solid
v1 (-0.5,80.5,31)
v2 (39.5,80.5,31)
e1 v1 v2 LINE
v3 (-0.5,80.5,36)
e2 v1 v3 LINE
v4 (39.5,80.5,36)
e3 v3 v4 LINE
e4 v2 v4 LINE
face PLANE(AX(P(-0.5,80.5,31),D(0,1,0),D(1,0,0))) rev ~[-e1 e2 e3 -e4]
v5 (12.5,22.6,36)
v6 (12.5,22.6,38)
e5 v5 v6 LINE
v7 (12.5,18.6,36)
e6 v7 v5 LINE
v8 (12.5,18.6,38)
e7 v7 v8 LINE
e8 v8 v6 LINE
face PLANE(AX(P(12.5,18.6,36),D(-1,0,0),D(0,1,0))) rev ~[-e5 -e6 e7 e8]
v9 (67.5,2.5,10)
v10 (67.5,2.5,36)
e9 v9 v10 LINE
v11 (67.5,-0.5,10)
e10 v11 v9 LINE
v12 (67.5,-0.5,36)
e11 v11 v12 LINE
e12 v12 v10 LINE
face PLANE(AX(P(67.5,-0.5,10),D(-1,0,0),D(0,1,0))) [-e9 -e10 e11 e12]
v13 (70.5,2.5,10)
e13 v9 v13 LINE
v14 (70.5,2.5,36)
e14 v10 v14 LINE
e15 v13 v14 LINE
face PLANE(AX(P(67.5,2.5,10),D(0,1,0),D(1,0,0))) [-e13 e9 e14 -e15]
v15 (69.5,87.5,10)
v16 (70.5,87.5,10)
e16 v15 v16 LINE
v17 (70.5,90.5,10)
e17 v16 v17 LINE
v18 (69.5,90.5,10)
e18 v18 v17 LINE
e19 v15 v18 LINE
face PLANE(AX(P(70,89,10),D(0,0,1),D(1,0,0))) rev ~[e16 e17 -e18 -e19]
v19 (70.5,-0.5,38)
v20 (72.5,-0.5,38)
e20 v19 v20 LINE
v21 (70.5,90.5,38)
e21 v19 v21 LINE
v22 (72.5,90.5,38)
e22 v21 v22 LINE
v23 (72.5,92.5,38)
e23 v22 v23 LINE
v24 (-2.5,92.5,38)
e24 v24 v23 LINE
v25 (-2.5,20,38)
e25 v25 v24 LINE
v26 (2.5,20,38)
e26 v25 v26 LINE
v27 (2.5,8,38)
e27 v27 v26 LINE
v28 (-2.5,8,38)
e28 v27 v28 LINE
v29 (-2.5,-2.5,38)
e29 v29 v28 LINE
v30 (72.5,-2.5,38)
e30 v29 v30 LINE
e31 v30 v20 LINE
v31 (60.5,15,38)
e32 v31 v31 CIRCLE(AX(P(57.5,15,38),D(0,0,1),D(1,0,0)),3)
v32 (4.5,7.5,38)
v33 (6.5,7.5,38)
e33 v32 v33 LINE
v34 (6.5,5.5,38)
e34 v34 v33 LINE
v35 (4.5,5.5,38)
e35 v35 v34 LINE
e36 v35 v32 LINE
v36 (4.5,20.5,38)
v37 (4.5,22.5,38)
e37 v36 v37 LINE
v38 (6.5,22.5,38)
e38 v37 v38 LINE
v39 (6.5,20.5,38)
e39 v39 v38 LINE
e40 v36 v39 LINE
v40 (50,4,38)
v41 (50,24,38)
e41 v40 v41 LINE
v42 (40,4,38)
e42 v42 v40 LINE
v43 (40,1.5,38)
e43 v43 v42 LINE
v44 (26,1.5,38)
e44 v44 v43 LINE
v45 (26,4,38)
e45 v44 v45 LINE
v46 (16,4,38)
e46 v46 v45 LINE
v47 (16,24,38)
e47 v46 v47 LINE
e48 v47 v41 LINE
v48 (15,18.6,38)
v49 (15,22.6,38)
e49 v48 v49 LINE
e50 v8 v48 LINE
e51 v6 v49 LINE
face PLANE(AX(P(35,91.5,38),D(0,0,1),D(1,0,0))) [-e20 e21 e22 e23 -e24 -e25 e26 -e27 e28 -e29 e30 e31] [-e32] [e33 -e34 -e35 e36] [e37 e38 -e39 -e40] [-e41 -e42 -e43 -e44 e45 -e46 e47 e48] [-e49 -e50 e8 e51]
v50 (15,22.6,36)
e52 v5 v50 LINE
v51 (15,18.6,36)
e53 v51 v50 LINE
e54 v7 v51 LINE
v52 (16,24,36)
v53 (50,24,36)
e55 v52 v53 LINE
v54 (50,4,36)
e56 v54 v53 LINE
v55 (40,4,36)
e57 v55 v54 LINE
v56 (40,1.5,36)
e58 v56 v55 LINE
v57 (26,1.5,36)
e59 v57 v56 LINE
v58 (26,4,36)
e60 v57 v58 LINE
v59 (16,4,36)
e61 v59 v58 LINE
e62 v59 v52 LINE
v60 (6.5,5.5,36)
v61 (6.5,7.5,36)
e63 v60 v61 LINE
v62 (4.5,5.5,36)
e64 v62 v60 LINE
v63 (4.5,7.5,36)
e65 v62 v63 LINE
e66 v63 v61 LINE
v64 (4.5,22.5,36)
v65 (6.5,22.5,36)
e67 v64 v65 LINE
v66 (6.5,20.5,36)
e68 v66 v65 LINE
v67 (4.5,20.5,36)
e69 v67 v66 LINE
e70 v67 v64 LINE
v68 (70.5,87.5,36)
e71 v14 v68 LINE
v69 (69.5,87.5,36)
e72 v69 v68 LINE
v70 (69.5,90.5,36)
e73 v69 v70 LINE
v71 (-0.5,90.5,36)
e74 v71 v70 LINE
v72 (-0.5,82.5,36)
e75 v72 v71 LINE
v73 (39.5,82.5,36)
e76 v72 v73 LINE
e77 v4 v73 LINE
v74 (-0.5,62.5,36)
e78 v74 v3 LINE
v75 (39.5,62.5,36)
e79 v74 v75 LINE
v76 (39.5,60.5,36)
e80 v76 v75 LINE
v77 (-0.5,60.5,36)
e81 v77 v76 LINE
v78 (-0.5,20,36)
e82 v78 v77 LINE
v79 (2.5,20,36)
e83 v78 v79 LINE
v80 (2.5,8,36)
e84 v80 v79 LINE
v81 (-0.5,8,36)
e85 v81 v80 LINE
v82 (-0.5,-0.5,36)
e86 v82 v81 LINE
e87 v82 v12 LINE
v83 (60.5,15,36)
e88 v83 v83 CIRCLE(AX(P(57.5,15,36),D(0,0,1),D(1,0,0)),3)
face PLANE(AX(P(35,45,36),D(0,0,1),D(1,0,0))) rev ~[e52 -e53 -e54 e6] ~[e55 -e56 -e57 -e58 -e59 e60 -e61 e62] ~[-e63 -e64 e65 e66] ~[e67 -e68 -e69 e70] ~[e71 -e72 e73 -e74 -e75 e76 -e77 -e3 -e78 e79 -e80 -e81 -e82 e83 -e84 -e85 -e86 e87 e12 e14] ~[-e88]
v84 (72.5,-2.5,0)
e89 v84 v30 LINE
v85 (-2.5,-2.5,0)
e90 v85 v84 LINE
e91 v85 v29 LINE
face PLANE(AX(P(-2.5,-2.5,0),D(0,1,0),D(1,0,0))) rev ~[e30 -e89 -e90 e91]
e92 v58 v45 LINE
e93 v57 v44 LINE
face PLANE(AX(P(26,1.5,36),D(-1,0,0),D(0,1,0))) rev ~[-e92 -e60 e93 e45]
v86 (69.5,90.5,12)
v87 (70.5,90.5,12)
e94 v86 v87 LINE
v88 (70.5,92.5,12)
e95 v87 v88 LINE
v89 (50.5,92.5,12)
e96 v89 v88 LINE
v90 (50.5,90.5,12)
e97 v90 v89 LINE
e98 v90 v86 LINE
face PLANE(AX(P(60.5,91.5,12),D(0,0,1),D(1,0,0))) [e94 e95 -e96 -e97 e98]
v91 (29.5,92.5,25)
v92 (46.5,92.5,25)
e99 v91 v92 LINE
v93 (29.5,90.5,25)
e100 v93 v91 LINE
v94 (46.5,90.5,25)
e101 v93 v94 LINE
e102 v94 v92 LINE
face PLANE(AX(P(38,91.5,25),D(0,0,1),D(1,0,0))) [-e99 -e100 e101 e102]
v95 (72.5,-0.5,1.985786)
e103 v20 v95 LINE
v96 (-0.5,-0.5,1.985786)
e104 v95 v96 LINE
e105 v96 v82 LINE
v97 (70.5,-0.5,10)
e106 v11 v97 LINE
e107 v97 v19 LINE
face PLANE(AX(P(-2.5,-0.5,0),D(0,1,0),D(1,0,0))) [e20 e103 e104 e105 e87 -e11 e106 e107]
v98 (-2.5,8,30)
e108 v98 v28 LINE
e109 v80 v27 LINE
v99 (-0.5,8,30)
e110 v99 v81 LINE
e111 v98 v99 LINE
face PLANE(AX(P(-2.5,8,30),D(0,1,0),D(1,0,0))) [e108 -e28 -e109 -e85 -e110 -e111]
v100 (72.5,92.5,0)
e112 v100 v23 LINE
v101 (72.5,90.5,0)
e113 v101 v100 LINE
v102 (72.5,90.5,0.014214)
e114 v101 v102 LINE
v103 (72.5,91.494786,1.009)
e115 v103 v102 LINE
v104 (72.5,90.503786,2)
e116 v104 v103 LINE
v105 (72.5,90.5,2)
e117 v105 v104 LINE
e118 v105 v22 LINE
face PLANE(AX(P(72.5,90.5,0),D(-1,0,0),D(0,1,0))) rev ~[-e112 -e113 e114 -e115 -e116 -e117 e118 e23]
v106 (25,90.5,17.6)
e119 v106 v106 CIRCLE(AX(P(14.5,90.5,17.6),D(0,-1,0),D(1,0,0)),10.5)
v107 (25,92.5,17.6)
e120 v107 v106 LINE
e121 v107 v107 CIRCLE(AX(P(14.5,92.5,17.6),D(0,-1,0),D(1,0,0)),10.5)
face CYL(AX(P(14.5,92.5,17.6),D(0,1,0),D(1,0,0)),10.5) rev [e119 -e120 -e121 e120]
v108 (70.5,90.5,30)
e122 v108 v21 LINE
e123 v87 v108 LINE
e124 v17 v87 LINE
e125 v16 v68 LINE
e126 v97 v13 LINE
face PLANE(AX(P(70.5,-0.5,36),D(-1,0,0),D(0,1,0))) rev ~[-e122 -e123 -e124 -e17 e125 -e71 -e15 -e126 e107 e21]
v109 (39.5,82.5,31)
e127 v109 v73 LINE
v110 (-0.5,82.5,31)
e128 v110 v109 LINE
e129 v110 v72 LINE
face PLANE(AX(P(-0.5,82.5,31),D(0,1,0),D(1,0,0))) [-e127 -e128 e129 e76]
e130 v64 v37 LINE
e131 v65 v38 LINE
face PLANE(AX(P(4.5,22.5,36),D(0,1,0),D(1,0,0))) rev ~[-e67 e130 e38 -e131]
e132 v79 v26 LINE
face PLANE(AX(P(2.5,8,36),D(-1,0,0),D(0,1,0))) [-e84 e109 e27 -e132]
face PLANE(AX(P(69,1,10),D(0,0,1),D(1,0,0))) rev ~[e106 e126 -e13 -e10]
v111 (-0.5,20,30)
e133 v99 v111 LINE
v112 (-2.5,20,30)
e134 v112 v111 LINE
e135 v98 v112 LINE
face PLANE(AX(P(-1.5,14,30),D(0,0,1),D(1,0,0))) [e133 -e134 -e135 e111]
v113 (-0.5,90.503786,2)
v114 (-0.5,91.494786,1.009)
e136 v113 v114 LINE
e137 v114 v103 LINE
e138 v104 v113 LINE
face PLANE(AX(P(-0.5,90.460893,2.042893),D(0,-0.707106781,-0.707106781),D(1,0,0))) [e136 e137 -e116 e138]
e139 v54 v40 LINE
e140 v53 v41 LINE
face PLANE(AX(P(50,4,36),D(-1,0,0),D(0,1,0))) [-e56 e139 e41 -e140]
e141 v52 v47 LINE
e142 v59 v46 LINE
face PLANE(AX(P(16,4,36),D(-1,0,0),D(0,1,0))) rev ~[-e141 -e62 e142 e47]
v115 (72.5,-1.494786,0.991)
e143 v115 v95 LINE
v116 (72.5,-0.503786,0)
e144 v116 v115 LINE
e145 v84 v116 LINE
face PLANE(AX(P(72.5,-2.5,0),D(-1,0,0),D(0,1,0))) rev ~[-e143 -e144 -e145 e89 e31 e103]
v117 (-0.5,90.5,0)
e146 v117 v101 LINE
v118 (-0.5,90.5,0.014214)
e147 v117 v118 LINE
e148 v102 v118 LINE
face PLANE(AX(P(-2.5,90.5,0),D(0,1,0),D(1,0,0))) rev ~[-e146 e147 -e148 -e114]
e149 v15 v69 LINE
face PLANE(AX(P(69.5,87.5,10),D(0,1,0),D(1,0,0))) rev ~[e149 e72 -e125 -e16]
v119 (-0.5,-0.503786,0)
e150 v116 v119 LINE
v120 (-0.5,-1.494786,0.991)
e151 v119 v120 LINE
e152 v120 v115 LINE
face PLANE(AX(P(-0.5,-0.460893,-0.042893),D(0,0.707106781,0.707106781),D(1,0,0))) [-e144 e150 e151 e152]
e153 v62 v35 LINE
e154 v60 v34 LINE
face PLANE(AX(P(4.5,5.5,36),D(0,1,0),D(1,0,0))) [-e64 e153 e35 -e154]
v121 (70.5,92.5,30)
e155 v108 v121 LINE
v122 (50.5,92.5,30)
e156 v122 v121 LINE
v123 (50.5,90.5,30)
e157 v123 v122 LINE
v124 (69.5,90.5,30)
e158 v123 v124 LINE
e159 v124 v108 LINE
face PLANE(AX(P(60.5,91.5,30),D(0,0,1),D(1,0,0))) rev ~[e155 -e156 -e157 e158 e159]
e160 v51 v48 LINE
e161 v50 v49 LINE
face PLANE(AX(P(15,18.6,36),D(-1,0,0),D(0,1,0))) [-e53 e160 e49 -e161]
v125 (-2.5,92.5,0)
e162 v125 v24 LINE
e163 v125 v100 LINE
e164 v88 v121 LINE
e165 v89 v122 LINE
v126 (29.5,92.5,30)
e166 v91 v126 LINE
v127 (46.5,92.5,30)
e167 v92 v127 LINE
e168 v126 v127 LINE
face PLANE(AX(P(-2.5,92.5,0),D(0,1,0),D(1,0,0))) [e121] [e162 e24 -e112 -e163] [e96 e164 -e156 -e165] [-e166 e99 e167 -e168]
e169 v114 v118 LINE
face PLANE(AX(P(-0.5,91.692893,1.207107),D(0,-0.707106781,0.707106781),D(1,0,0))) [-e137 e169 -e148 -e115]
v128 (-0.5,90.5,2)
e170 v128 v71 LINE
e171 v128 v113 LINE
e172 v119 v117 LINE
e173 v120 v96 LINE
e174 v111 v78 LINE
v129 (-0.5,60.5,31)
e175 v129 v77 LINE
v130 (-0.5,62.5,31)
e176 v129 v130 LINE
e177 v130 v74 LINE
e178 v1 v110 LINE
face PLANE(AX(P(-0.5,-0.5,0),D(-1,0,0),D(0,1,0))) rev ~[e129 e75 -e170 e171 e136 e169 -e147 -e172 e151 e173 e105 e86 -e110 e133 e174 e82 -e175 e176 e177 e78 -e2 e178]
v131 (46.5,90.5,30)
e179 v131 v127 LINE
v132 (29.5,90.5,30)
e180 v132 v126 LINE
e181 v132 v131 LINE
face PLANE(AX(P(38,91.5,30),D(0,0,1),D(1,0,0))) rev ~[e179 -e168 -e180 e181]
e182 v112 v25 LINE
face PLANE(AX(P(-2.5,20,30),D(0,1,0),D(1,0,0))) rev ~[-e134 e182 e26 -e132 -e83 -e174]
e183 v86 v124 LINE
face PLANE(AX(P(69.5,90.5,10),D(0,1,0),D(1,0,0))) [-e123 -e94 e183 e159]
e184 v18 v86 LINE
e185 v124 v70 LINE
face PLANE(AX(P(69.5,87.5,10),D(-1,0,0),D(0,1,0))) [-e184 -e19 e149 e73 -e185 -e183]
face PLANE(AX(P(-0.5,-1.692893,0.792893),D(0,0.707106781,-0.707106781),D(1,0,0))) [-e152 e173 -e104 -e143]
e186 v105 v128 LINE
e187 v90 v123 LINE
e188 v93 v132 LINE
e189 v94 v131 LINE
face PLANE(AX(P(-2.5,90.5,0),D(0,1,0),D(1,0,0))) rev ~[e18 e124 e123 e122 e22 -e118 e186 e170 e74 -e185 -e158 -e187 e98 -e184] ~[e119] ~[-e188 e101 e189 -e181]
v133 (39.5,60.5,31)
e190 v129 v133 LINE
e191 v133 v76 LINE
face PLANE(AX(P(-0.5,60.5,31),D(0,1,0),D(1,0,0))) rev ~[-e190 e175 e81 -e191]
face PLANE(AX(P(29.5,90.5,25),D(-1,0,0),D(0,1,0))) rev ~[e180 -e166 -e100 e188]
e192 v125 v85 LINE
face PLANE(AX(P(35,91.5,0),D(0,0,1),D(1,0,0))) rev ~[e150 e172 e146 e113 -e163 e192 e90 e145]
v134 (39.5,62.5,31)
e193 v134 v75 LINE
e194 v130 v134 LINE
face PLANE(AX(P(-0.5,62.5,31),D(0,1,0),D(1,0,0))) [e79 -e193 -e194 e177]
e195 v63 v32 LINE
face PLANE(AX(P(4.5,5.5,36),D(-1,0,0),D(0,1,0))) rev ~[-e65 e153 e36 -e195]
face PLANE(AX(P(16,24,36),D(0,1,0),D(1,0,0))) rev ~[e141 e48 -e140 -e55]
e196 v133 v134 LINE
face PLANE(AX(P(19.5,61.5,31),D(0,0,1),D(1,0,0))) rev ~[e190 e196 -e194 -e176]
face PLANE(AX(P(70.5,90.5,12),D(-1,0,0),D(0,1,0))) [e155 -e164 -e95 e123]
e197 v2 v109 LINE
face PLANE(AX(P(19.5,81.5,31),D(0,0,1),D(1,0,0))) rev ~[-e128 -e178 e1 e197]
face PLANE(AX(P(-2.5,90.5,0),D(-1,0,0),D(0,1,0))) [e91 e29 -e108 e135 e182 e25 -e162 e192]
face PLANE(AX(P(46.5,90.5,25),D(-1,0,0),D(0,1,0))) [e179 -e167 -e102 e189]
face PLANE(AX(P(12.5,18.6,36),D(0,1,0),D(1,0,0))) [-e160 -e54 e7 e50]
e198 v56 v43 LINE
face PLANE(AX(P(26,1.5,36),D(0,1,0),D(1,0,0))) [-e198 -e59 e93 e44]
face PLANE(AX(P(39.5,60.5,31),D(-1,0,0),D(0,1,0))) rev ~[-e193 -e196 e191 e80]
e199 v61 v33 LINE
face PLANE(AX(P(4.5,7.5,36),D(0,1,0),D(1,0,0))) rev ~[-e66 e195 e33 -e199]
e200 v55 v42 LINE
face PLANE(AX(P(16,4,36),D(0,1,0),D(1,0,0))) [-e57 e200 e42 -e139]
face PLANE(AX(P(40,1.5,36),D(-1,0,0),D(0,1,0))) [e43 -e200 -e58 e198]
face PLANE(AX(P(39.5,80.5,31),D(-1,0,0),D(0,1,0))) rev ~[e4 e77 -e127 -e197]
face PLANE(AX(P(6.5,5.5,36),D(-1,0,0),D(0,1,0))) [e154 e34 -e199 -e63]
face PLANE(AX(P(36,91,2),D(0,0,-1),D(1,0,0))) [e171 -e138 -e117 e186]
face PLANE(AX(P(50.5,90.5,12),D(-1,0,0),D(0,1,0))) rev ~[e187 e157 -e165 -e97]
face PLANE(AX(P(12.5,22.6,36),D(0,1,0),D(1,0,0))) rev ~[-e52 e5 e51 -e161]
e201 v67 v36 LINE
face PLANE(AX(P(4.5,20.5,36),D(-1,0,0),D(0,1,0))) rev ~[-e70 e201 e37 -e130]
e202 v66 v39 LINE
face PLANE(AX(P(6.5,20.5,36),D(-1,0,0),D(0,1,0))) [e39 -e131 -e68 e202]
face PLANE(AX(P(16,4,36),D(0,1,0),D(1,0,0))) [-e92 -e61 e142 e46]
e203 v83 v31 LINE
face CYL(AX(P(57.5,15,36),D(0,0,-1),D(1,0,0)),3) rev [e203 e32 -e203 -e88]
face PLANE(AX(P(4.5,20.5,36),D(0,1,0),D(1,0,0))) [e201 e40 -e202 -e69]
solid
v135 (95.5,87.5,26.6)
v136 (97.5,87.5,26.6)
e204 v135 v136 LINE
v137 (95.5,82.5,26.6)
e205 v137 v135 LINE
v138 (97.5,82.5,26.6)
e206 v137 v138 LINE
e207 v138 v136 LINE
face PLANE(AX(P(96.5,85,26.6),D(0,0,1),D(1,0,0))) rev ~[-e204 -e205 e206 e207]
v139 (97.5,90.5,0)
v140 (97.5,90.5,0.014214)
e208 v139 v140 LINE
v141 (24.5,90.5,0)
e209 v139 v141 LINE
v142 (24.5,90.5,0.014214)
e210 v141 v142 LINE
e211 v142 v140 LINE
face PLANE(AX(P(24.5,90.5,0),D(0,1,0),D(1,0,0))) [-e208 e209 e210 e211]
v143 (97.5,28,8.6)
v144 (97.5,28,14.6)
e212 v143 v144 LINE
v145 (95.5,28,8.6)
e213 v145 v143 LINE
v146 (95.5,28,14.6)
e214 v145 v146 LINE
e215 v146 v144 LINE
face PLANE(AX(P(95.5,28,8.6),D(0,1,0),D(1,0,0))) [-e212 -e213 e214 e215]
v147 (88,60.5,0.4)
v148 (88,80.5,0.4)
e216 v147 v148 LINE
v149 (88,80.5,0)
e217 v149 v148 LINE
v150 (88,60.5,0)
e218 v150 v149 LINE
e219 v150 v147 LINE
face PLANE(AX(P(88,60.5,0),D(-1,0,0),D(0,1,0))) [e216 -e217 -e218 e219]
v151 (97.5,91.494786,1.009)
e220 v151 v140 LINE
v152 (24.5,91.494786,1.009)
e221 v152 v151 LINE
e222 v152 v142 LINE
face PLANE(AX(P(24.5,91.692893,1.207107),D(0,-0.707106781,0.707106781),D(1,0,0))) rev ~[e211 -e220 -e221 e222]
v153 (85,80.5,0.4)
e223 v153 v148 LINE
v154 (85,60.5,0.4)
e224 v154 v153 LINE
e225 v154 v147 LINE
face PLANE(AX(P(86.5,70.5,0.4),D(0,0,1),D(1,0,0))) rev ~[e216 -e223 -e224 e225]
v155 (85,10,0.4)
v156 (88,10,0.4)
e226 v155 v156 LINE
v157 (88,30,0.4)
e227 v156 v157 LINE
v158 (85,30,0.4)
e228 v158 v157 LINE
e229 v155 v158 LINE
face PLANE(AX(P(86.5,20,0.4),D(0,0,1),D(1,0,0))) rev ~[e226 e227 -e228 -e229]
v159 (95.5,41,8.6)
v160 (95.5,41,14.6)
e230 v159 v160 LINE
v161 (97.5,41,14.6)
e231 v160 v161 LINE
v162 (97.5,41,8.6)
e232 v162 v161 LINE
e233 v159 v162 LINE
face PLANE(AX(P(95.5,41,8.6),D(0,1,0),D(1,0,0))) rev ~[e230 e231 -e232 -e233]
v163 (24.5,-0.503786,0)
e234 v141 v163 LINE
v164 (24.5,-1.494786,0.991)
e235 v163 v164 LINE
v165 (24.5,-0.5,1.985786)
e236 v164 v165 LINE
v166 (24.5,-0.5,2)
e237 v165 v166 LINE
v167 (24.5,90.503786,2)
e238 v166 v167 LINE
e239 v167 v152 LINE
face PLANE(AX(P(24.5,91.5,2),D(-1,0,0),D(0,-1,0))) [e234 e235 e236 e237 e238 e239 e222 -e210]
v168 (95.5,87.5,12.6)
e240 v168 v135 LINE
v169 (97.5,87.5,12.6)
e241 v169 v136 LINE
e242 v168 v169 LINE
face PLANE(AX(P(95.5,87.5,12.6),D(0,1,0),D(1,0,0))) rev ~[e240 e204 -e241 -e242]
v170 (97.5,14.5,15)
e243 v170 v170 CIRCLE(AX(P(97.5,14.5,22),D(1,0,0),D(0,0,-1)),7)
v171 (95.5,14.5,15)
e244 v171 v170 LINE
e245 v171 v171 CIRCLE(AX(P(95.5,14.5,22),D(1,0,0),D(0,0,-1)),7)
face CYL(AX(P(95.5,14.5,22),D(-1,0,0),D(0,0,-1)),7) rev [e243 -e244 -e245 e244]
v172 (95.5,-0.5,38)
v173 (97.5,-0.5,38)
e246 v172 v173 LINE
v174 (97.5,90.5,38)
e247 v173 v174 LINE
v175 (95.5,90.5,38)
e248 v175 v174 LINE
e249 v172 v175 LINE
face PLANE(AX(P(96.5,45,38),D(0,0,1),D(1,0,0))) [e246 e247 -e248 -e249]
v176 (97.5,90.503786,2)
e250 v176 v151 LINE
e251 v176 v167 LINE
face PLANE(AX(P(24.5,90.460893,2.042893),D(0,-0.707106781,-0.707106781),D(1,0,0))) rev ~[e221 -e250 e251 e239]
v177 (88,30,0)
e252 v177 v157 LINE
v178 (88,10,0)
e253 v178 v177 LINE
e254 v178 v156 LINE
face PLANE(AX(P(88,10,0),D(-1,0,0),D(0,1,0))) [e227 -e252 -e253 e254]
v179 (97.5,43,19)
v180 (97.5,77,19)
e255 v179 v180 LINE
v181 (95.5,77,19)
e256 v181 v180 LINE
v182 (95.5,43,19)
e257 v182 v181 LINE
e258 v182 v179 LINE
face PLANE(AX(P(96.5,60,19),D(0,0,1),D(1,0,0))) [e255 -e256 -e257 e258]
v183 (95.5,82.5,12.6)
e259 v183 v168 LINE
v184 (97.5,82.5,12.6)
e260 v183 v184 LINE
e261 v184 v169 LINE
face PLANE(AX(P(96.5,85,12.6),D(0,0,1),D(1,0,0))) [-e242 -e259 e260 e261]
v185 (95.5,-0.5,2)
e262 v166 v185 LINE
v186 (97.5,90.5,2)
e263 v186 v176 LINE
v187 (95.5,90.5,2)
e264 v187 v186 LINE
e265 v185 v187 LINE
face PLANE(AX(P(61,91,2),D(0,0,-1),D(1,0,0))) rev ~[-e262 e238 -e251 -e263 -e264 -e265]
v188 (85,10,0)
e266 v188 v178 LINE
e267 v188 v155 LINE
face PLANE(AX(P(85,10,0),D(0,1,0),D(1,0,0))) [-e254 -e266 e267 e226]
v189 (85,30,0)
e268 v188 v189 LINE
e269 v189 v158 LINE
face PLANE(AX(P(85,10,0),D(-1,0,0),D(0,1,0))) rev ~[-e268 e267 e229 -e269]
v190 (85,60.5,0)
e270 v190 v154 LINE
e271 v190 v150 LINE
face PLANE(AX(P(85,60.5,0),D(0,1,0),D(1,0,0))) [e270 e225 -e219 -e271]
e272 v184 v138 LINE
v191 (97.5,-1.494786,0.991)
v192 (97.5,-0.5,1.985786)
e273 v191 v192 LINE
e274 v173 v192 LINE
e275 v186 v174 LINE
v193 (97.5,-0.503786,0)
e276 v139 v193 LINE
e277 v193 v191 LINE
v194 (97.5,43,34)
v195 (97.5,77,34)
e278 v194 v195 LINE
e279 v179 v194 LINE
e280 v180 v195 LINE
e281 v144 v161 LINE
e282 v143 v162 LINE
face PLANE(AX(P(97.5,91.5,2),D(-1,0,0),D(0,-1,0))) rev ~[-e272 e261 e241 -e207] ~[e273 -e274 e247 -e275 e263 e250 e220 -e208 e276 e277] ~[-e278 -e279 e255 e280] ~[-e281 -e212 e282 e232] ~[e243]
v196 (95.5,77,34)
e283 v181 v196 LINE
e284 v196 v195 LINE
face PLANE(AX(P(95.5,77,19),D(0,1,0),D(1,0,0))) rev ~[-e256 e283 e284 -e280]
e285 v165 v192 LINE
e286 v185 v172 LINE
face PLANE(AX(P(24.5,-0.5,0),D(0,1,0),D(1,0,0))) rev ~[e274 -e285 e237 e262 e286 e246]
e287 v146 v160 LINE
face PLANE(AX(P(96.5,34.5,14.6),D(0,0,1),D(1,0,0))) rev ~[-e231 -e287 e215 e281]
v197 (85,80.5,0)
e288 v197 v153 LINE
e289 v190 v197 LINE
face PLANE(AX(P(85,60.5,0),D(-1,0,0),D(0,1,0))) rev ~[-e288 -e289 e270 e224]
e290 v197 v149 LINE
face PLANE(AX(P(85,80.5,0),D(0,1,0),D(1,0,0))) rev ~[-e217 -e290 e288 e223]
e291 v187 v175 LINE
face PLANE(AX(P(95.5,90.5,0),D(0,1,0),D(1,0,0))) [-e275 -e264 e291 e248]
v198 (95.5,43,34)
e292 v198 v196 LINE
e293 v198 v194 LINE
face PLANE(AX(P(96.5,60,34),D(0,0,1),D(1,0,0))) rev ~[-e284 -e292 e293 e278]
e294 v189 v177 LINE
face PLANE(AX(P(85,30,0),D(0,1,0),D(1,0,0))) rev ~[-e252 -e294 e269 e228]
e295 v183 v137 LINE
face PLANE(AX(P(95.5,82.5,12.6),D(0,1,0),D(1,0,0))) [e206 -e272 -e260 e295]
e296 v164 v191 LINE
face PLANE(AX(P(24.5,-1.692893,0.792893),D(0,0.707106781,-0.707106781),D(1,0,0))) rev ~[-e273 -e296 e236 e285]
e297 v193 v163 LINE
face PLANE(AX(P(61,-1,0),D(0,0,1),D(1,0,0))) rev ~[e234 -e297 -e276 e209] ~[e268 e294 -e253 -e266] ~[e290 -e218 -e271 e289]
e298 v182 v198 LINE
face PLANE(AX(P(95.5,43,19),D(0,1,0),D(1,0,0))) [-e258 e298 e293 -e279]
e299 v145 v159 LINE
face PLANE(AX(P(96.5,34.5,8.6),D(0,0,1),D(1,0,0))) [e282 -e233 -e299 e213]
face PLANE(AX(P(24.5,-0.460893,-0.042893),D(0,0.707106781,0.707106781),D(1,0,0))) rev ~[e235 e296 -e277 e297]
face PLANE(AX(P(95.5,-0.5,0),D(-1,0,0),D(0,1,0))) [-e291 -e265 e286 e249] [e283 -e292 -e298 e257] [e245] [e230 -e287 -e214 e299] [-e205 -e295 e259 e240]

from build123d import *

# Parameters (mm, degrees)
BOX020_W               = 73
BOX020_H               = 1
BOX020_DEPTH           = 2
BOX020_PLACEMENT_ANGLE = 45
BOX019_W               = 73
BOX019_H               = 1
BOX019_DEPTH           = 2
BOX019_PLACEMENT_ANGLE = 45
BOX018_W               = 73
BOX018_H               = 1
BOX018_DEPTH           = 2
CUT012_PLACEMENT_ANGLE = 180
BOX017_W               = 73
BOX017_H               = 91
BOX017_DEPTH           = 2
BOX015_W               = 3
BOX015_H               = 3
BOX015_DEPTH           = 26
BOX013_W               = 40
BOX013_H               = 2
BOX013_DEPTH           = 5
CYLINDER001_R          = 10.5
CYLINDER001_DEPTH      = 2
BOX012_W               = 17
BOX012_H               = 2
BOX012_DEPTH           = 5
BOX011_W               = 20
BOX011_H               = 2
BOX011_DEPTH           = 18
BOX010_W               = 75
BOX010_H               = 2
BOX010_DEPTH           = 38
BOX009_W               = 75
BOX009_H               = 2
BOX009_DEPTH           = 38
BOX008_W               = 2
BOX008_H               = 12
BOX008_DEPTH           = 8
BOX007_W               = 2
BOX007_H               = 91
BOX007_DEPTH           = 38
BOX006_W               = 3
BOX006_H               = 12
BOX006_DEPTH           = 2
BOX005_W               = 2
BOX005_H               = 2
BOX005_DEPTH           = 2
BOX004_W               = 2
BOX004_H               = 2
BOX004_DEPTH           = 2
BOX003_W               = 2.5
BOX003_H               = 4
BOX003_DEPTH           = 2
CYLINDER_R             = 3
CYLINDER_DEPTH         = 2
BOX002_W               = 14
BOX002_H               = 5
BOX002_DEPTH           = 2
BOX001_W               = 34
BOX001_H               = 20
BOX001_DEPTH           = 2
BOX_W                  = 71
BOX_H                  = 91
BOX_DEPTH              = 2
BOX014_W               = 40
BOX014_H               = 2
BOX014_DEPTH           = 5
BOX016_W               = 1
BOX016_H               = 3
BOX016_DEPTH           = 26
BOX026_W               = 2
BOX026_H               = 5
BOX026_DEPTH           = 14
BOX024_W               = 2
BOX024_H               = 13
BOX024_DEPTH           = 6
BOX025_W               = 2
BOX025_H               = 34
BOX025_DEPTH           = 15
CYLINDER002_R          = 7
CYLINDER002_DEPTH      = 2
BOX023_W               = 3
BOX023_H               = 20
BOX023_DEPTH           = 0.4
BOX022_W               = 3
BOX022_H               = 20
BOX022_DEPTH           = 0.4
BOX021_W               = 2
BOX021_H               = 91
BOX021_DEPTH           = 38


with BuildPart() as cube005:
    # Box020 → Box020 (new body)
    with BuildSketch(Plane.XY):
        with Locations((36.5, 0.5)):
            Rectangle(BOX020_W, BOX020_H)
    extrude(amount=BOX020_DEPTH)


with BuildPart() as cube005_1:
    # Box020 placement: moved
    add(cube005.part.moved(Location((0, -9.668, -0.75))).rotate(Axis((0, -9.668, -0.75), (1, 0, 0)), BOX020_PLACEMENT_ANGLE))


with BuildPart() as cube004:
    # Box019 → Box019 (new body)
    with BuildSketch(Plane.XY):
        with Locations((36.5, 0.5)):
            Rectangle(BOX019_W, BOX019_H)
    extrude(amount=BOX019_DEPTH)


with BuildPart() as cube004_1:
    # Box019 placement: moved
    add(cube004.part.moved(Location((0, -10.9, 1.5))).rotate(Axis((0, -10.9, 1.5), (-1, 0, 0)), BOX019_PLACEMENT_ANGLE))


with BuildPart() as cut011:
    # Box018 → Box018 (new body)
    with BuildSketch(Plane(origin=(0, -10, 0), x_dir=(1, 0, 0), z_dir=(0, 0, 1))):
        with Locations((36.5, 0.5)):
            Rectangle(BOX018_W, BOX018_H)
    extrude(amount=BOX018_DEPTH)

    # Cut011: cut Cube004
    add(cube004_1.part, mode=Mode.SUBTRACT)


with BuildPart() as groove_back:
    # Cut012 base: copy of Cut011
    add(cut011.part)

    # Cut012: cut Cube005
    add(cube005_1.part, mode=Mode.SUBTRACT)


with BuildPart() as groove_back_1:
    # Cut012 placement: moved
    add(groove_back.part.moved(Location((-0.5, 81.5, -8))).rotate(Axis((-0.5, 81.5, -8), (1, 0, 0)), CUT012_PLACEMENT_ANGLE))


with BuildPart() as groove_front:
    # Cut013 base: copy of Cut011
    add(cut011.part)

    # Cut013: cut Cube005
    add(cube005_1.part, mode=Mode.SUBTRACT)


with BuildPart() as groove_front_1:
    # Cut013 placement: moved
    add(groove_front.part.moved(Location((-0.5, 8.5, -10))))


with BuildPart() as fusion007:
    # Box017 → Box017 (new body)
    with BuildSketch(Plane(origin=(-0.5, -0.5, -10), x_dir=(1, 0, 0), z_dir=(0, 0, 1))):
        with Locations((36.5, 45.5)):
            Rectangle(BOX017_W, BOX017_H)
    extrude(amount=BOX017_DEPTH)

    # Fusion007: union Groove front
    add(groove_front_1.part)


with BuildPart() as baseplate_groove_cutout:
    # Fusion009 base: copy of Fusion007
    add(fusion007.part)

    # Fusion009: union Groove back
    add(groove_back_1.part)


with BuildPart() as baseplate_groove_cutout_1:
    # Fusion009 placement: moved
    add(baseplate_groove_cutout.part.moved(Location((0, 0, 10))))


with BuildPart() as box015:
    # Box015 → Box015 (new body)
    with BuildSketch(Plane(origin=(67.5, -0.5, 10), x_dir=(1, 0, 0), z_dir=(0, 0, 1))):
        with Locations((1.5, 1.5)):
            Rectangle(BOX015_W, BOX015_H)
    extrude(amount=BOX015_DEPTH)


with BuildPart() as box013:
    # Box013 → Box013 (new body)
    with BuildSketch(Plane(origin=(-0.5, 80.5, 31), x_dir=(1, 0, 0), z_dir=(0, 0, 1))):
        with Locations((20, 1)):
            Rectangle(BOX013_W, BOX013_H)
    extrude(amount=BOX013_DEPTH)


with BuildPart() as cylinder001:
    # Cylinder001 → Cylinder001 (new body)
    with BuildSketch(Plane(origin=(14.5, 92.5, 17.6), x_dir=(1, 0, 0), z_dir=(0, -1, 0))):
        Circle(CYLINDER001_R)
    extrude(amount=CYLINDER001_DEPTH)


with BuildPart() as box012:
    # Box012 → Box012 (new body)
    with BuildSketch(Plane(origin=(29.5, 90.5, 25), x_dir=(1, 0, 0), z_dir=(0, 0, 1))):
        with Locations((8.5, 1)):
            Rectangle(BOX012_W, BOX012_H)
    extrude(amount=BOX012_DEPTH)


with BuildPart() as dht_cutout:
    # Box011 → Box011 (new body)
    with BuildSketch(Plane(origin=(50.5, 90.5, 12), x_dir=(1, 0, 0), z_dir=(0, 0, 1))):
        with Locations((10, 1)):
            Rectangle(BOX011_W, BOX011_H)
    extrude(amount=BOX011_DEPTH)


with BuildPart() as cut010:
    # Box010 → Box010 (new body)
    with BuildSketch(Plane(origin=(-2.5, 90.5, 0), x_dir=(1, 0, 0), z_dir=(0, 0, 1))):
        with Locations((37.5, 1)):
            Rectangle(BOX010_W, BOX010_H)
    extrude(amount=BOX010_DEPTH)

    # Cut008: cut DHT cutout
    add(dht_cutout.part, mode=Mode.SUBTRACT)

    # Cut009: cut Box012
    add(box012.part, mode=Mode.SUBTRACT)

    # Cut010: cut Cylinder001
    add(cylinder001.part, mode=Mode.SUBTRACT)


with BuildPart() as front_side:
    # Box009 → Box009 (new body)
    with BuildSketch(Plane(origin=(-2.5, -2.5, 0), x_dir=(1, 0, 0), z_dir=(0, 0, 1))):
        with Locations((37.5, 1)):
            Rectangle(BOX009_W, BOX009_H)
    extrude(amount=BOX009_DEPTH)


with BuildPart() as usb_cutout_left:
    # Box008 → Box008 (new body)
    with BuildSketch(Plane(origin=(-2.5, 8, 30), x_dir=(1, 0, 0), z_dir=(0, 0, 1))):
        with Locations((1, 6)):
            Rectangle(BOX008_W, BOX008_H)
    extrude(amount=BOX008_DEPTH)


with BuildPart() as cut007:
    # Box007 → Box007 (new body)
    with BuildSketch(Plane(origin=(-2.5, -0.5, 0), x_dir=(1, 0, 0), z_dir=(0, 0, 1))):
        with Locations((1, 45.5)):
            Rectangle(BOX007_W, BOX007_H)
    extrude(amount=BOX007_DEPTH)

    # Cut007: cut USB cutout left
    add(usb_cutout_left.part, mode=Mode.SUBTRACT)


with BuildPart() as usb_cutout_top:
    # Box006 → Box006 (new body)
    with BuildSketch(Plane(origin=(-0.5, 8, 0), x_dir=(1, 0, 0), z_dir=(0, 0, 1))):
        with Locations((1.5, 6)):
            Rectangle(BOX006_W, BOX006_H)
    extrude(amount=BOX006_DEPTH)


with BuildPart() as rst:
    # Box005 → Box005 (new body)
    with BuildSketch(Plane(origin=(4.5, 5.5, 0), x_dir=(1, 0, 0), z_dir=(0, 0, 1))):
        with Locations((1, 1)):
            Rectangle(BOX005_W, BOX005_H)
    extrude(amount=BOX005_DEPTH)


with BuildPart() as prg:
    # Box004 → Box004 (new body)
    with BuildSketch(Plane(origin=(4.5, 20.5, 0), x_dir=(1, 0, 0), z_dir=(0, 0, 1))):
        with Locations((1, 1)):
            Rectangle(BOX004_W, BOX004_H)
    extrude(amount=BOX004_DEPTH)


with BuildPart() as led_cutout:
    # Box003 → Box003 (new body)
    with BuildSketch(Plane(origin=(12.5, 18.6, 0), x_dir=(1, 0, 0), z_dir=(0, 0, 1))):
        with Locations((1.25, 2)):
            Rectangle(BOX003_W, BOX003_H)
    extrude(amount=BOX003_DEPTH)


with BuildPart() as rgb_led_cutout:
    # Cylinder → Cylinder (new body)
    with BuildSketch(Plane(origin=(57.5, 15, 0), x_dir=(1, 0, 0), z_dir=(0, 0, 1))):
        Circle(CYLINDER_R)
    extrude(amount=CYLINDER_DEPTH)


with BuildPart() as cube002:
    # Box002 → Box002 (new body)
    with BuildSketch(Plane(origin=(26, 1.5, 0), x_dir=(1, 0, 0), z_dir=(0, 0, 1))):
        with Locations((7, 2.5)):
            Rectangle(BOX002_W, BOX002_H)
    extrude(amount=BOX002_DEPTH)


with BuildPart() as cube001:
    # Box001 → Box001 (new body)
    with BuildSketch(Plane(origin=(16, 4, 0), x_dir=(1, 0, 0), z_dir=(0, 0, 1))):
        with Locations((17, 10)):
            Rectangle(BOX001_W, BOX001_H)
    extrude(amount=BOX001_DEPTH)


with BuildPart() as fusion003:
    # Box → Box (new body)
    with BuildSketch(Plane(origin=(-0.5, -0.5, 0), x_dir=(1, 0, 0), z_dir=(0, 0, 1))):
        with Locations((35.5, 45.5)):
            Rectangle(BOX_W, BOX_H)
    extrude(amount=BOX_DEPTH)

    # Cut: cut Cube001
    add(cube001.part, mode=Mode.SUBTRACT)

    # Cut001: cut Cube002
    add(cube002.part, mode=Mode.SUBTRACT)

    # Cut002: cut RGB LED cutout
    add(rgb_led_cutout.part, mode=Mode.SUBTRACT)

    # Cut003: cut LED cutout
    add(led_cutout.part, mode=Mode.SUBTRACT)

    # Cut004: cut PRG
    add(prg.part, mode=Mode.SUBTRACT)

    # Cut005: cut RST
    add(rst.part, mode=Mode.SUBTRACT)

    # Cut006: cut USB cutout top
    add(usb_cutout_top.part, mode=Mode.SUBTRACT)


with BuildPart() as fusion003_1:
    # Cut006 placement: moved
    add(fusion003.part.moved(Location((0, 0, 36))))

    # Fusion: union Cut007
    add(cut007.part)

    # Fusion001: union Front side
    add(front_side.part)

    # Fusion002: union Cut010
    add(cut010.part)

    # Fusion003: union Box013
    add(box013.part)


with BuildPart() as fusion005:
    # Box014 → Box014 (new body)
    with BuildSketch(Plane(origin=(-0.5, 60.5, 31), x_dir=(1, 0, 0), z_dir=(0, 0, 1))):
        with Locations((20, 1)):
            Rectangle(BOX014_W, BOX014_H)
    extrude(amount=BOX014_DEPTH)

    # Fusion004: union Fusion003
    add(fusion003_1.part)

    # Fusion005: union Box015
    add(box015.part)


with BuildPart() as top_case:
    # Box016 → Box016 (new body)
    with BuildSketch(Plane(origin=(69.5, 87.5, 10), x_dir=(1, 0, 0), z_dir=(0, 0, 1))):
        with Locations((0.5, 1.5)):
            Rectangle(BOX016_W, BOX016_H)
    extrude(amount=BOX016_DEPTH)

    # Fusion006: union Fusion005
    add(fusion005.part)

    # Cut014: cut Baseplate groove cutout
    add(baseplate_groove_cutout_1.part, mode=Mode.SUBTRACT)


with BuildPart() as dht_side_cutout:
    # Box026 → Box026 (new body)
    with BuildSketch(Plane(origin=(95.5, 82.5, 12.6), x_dir=(1, 0, 0), z_dir=(0, 0, 1))):
        with Locations((1, 2.5)):
            Rectangle(BOX026_W, BOX026_H)
    extrude(amount=BOX026_DEPTH)


with BuildPart() as power_switch_cutout:
    # Box024 → Box024 (new body)
    with BuildSketch(Plane(origin=(95.5, 28, 8.6), x_dir=(1, 0, 0), z_dir=(0, 0, 1))):
        with Locations((1, 6.5)):
            Rectangle(BOX024_W, BOX024_H)
    extrude(amount=BOX024_DEPTH)


with BuildPart() as co2_sensor_cutout001:
    # Box025 → Box025 (new body)
    with BuildSketch(Plane(origin=(95.5, 43, 19), x_dir=(1, 0, 0), z_dir=(0, 0, 1))):
        with Locations((1, 17)):
            Rectangle(BOX025_W, BOX025_H)
    extrude(amount=BOX025_DEPTH)


with BuildPart() as buzzer_cutout:
    # Cylinder002 → Cylinder002 (new body)
    with BuildSketch(Plane(origin=(95.5, 14.5, 22), x_dir=(0, 0, -1), z_dir=(1, 0, 0))):
        Circle(CYLINDER002_R)
    extrude(amount=CYLINDER002_DEPTH)


with BuildPart() as box023:
    # Box023 → Box023 (new body)
    with BuildSketch(Plane(origin=(85, 60.5, 0), x_dir=(1, 0, 0), z_dir=(0, 0, 1))):
        with Locations((1.5, 10)):
            Rectangle(BOX023_W, BOX023_H)
    extrude(amount=BOX023_DEPTH)


with BuildPart() as box022:
    # Box022 → Box022 (new body)
    with BuildSketch(Plane(origin=(85, 10, 0), x_dir=(1, 0, 0), z_dir=(0, 0, 1))):
        with Locations((1.5, 10)):
            Rectangle(BOX022_W, BOX022_H)
    extrude(amount=BOX022_DEPTH)


with BuildPart() as right_side:
    # Box021 → Box021 (new body)
    with BuildSketch(Plane(origin=(70.5, -0.5, 0), x_dir=(1, 0, 0), z_dir=(0, 0, 1))):
        with Locations((1, 45.5)):
            Rectangle(BOX021_W, BOX021_H)
    extrude(amount=BOX021_DEPTH)


with BuildPart() as bottom_case:
    # Fusion008 base: copy of Fusion007
    add(fusion007.part)

    # Fusion008: union Groove back
    add(groove_back_1.part)


with BuildPart() as bottom_case_1:
    # Fusion008 placement: moved
    add(bottom_case.part.moved(Location((0, 0, 10))))

    # Fusion010: union Right side
    add(right_side.part)


with BuildPart() as bottom_case_2:
    # Fusion010 placement: moved
    add(bottom_case_1.part.moved(Location((25, 0, 0))))

    # Cut015: cut Box022
    add(box022.part, mode=Mode.SUBTRACT)

    # Cut016: cut Box023
    add(box023.part, mode=Mode.SUBTRACT)

    # Cut017: cut Buzzer cutout
    add(buzzer_cutout.part, mode=Mode.SUBTRACT)

    # Cut018: cut CO2 sensor cutout001
    add(co2_sensor_cutout001.part, mode=Mode.SUBTRACT)

    # Cut019: cut Power switch cutout
    add(power_switch_cutout.part, mode=Mode.SUBTRACT)

    # Cut020: cut DHT side cutout
    add(dht_side_cutout.part, mode=Mode.SUBTRACT)


solid = Compound([top_case.part, bottom_case_2.part])
